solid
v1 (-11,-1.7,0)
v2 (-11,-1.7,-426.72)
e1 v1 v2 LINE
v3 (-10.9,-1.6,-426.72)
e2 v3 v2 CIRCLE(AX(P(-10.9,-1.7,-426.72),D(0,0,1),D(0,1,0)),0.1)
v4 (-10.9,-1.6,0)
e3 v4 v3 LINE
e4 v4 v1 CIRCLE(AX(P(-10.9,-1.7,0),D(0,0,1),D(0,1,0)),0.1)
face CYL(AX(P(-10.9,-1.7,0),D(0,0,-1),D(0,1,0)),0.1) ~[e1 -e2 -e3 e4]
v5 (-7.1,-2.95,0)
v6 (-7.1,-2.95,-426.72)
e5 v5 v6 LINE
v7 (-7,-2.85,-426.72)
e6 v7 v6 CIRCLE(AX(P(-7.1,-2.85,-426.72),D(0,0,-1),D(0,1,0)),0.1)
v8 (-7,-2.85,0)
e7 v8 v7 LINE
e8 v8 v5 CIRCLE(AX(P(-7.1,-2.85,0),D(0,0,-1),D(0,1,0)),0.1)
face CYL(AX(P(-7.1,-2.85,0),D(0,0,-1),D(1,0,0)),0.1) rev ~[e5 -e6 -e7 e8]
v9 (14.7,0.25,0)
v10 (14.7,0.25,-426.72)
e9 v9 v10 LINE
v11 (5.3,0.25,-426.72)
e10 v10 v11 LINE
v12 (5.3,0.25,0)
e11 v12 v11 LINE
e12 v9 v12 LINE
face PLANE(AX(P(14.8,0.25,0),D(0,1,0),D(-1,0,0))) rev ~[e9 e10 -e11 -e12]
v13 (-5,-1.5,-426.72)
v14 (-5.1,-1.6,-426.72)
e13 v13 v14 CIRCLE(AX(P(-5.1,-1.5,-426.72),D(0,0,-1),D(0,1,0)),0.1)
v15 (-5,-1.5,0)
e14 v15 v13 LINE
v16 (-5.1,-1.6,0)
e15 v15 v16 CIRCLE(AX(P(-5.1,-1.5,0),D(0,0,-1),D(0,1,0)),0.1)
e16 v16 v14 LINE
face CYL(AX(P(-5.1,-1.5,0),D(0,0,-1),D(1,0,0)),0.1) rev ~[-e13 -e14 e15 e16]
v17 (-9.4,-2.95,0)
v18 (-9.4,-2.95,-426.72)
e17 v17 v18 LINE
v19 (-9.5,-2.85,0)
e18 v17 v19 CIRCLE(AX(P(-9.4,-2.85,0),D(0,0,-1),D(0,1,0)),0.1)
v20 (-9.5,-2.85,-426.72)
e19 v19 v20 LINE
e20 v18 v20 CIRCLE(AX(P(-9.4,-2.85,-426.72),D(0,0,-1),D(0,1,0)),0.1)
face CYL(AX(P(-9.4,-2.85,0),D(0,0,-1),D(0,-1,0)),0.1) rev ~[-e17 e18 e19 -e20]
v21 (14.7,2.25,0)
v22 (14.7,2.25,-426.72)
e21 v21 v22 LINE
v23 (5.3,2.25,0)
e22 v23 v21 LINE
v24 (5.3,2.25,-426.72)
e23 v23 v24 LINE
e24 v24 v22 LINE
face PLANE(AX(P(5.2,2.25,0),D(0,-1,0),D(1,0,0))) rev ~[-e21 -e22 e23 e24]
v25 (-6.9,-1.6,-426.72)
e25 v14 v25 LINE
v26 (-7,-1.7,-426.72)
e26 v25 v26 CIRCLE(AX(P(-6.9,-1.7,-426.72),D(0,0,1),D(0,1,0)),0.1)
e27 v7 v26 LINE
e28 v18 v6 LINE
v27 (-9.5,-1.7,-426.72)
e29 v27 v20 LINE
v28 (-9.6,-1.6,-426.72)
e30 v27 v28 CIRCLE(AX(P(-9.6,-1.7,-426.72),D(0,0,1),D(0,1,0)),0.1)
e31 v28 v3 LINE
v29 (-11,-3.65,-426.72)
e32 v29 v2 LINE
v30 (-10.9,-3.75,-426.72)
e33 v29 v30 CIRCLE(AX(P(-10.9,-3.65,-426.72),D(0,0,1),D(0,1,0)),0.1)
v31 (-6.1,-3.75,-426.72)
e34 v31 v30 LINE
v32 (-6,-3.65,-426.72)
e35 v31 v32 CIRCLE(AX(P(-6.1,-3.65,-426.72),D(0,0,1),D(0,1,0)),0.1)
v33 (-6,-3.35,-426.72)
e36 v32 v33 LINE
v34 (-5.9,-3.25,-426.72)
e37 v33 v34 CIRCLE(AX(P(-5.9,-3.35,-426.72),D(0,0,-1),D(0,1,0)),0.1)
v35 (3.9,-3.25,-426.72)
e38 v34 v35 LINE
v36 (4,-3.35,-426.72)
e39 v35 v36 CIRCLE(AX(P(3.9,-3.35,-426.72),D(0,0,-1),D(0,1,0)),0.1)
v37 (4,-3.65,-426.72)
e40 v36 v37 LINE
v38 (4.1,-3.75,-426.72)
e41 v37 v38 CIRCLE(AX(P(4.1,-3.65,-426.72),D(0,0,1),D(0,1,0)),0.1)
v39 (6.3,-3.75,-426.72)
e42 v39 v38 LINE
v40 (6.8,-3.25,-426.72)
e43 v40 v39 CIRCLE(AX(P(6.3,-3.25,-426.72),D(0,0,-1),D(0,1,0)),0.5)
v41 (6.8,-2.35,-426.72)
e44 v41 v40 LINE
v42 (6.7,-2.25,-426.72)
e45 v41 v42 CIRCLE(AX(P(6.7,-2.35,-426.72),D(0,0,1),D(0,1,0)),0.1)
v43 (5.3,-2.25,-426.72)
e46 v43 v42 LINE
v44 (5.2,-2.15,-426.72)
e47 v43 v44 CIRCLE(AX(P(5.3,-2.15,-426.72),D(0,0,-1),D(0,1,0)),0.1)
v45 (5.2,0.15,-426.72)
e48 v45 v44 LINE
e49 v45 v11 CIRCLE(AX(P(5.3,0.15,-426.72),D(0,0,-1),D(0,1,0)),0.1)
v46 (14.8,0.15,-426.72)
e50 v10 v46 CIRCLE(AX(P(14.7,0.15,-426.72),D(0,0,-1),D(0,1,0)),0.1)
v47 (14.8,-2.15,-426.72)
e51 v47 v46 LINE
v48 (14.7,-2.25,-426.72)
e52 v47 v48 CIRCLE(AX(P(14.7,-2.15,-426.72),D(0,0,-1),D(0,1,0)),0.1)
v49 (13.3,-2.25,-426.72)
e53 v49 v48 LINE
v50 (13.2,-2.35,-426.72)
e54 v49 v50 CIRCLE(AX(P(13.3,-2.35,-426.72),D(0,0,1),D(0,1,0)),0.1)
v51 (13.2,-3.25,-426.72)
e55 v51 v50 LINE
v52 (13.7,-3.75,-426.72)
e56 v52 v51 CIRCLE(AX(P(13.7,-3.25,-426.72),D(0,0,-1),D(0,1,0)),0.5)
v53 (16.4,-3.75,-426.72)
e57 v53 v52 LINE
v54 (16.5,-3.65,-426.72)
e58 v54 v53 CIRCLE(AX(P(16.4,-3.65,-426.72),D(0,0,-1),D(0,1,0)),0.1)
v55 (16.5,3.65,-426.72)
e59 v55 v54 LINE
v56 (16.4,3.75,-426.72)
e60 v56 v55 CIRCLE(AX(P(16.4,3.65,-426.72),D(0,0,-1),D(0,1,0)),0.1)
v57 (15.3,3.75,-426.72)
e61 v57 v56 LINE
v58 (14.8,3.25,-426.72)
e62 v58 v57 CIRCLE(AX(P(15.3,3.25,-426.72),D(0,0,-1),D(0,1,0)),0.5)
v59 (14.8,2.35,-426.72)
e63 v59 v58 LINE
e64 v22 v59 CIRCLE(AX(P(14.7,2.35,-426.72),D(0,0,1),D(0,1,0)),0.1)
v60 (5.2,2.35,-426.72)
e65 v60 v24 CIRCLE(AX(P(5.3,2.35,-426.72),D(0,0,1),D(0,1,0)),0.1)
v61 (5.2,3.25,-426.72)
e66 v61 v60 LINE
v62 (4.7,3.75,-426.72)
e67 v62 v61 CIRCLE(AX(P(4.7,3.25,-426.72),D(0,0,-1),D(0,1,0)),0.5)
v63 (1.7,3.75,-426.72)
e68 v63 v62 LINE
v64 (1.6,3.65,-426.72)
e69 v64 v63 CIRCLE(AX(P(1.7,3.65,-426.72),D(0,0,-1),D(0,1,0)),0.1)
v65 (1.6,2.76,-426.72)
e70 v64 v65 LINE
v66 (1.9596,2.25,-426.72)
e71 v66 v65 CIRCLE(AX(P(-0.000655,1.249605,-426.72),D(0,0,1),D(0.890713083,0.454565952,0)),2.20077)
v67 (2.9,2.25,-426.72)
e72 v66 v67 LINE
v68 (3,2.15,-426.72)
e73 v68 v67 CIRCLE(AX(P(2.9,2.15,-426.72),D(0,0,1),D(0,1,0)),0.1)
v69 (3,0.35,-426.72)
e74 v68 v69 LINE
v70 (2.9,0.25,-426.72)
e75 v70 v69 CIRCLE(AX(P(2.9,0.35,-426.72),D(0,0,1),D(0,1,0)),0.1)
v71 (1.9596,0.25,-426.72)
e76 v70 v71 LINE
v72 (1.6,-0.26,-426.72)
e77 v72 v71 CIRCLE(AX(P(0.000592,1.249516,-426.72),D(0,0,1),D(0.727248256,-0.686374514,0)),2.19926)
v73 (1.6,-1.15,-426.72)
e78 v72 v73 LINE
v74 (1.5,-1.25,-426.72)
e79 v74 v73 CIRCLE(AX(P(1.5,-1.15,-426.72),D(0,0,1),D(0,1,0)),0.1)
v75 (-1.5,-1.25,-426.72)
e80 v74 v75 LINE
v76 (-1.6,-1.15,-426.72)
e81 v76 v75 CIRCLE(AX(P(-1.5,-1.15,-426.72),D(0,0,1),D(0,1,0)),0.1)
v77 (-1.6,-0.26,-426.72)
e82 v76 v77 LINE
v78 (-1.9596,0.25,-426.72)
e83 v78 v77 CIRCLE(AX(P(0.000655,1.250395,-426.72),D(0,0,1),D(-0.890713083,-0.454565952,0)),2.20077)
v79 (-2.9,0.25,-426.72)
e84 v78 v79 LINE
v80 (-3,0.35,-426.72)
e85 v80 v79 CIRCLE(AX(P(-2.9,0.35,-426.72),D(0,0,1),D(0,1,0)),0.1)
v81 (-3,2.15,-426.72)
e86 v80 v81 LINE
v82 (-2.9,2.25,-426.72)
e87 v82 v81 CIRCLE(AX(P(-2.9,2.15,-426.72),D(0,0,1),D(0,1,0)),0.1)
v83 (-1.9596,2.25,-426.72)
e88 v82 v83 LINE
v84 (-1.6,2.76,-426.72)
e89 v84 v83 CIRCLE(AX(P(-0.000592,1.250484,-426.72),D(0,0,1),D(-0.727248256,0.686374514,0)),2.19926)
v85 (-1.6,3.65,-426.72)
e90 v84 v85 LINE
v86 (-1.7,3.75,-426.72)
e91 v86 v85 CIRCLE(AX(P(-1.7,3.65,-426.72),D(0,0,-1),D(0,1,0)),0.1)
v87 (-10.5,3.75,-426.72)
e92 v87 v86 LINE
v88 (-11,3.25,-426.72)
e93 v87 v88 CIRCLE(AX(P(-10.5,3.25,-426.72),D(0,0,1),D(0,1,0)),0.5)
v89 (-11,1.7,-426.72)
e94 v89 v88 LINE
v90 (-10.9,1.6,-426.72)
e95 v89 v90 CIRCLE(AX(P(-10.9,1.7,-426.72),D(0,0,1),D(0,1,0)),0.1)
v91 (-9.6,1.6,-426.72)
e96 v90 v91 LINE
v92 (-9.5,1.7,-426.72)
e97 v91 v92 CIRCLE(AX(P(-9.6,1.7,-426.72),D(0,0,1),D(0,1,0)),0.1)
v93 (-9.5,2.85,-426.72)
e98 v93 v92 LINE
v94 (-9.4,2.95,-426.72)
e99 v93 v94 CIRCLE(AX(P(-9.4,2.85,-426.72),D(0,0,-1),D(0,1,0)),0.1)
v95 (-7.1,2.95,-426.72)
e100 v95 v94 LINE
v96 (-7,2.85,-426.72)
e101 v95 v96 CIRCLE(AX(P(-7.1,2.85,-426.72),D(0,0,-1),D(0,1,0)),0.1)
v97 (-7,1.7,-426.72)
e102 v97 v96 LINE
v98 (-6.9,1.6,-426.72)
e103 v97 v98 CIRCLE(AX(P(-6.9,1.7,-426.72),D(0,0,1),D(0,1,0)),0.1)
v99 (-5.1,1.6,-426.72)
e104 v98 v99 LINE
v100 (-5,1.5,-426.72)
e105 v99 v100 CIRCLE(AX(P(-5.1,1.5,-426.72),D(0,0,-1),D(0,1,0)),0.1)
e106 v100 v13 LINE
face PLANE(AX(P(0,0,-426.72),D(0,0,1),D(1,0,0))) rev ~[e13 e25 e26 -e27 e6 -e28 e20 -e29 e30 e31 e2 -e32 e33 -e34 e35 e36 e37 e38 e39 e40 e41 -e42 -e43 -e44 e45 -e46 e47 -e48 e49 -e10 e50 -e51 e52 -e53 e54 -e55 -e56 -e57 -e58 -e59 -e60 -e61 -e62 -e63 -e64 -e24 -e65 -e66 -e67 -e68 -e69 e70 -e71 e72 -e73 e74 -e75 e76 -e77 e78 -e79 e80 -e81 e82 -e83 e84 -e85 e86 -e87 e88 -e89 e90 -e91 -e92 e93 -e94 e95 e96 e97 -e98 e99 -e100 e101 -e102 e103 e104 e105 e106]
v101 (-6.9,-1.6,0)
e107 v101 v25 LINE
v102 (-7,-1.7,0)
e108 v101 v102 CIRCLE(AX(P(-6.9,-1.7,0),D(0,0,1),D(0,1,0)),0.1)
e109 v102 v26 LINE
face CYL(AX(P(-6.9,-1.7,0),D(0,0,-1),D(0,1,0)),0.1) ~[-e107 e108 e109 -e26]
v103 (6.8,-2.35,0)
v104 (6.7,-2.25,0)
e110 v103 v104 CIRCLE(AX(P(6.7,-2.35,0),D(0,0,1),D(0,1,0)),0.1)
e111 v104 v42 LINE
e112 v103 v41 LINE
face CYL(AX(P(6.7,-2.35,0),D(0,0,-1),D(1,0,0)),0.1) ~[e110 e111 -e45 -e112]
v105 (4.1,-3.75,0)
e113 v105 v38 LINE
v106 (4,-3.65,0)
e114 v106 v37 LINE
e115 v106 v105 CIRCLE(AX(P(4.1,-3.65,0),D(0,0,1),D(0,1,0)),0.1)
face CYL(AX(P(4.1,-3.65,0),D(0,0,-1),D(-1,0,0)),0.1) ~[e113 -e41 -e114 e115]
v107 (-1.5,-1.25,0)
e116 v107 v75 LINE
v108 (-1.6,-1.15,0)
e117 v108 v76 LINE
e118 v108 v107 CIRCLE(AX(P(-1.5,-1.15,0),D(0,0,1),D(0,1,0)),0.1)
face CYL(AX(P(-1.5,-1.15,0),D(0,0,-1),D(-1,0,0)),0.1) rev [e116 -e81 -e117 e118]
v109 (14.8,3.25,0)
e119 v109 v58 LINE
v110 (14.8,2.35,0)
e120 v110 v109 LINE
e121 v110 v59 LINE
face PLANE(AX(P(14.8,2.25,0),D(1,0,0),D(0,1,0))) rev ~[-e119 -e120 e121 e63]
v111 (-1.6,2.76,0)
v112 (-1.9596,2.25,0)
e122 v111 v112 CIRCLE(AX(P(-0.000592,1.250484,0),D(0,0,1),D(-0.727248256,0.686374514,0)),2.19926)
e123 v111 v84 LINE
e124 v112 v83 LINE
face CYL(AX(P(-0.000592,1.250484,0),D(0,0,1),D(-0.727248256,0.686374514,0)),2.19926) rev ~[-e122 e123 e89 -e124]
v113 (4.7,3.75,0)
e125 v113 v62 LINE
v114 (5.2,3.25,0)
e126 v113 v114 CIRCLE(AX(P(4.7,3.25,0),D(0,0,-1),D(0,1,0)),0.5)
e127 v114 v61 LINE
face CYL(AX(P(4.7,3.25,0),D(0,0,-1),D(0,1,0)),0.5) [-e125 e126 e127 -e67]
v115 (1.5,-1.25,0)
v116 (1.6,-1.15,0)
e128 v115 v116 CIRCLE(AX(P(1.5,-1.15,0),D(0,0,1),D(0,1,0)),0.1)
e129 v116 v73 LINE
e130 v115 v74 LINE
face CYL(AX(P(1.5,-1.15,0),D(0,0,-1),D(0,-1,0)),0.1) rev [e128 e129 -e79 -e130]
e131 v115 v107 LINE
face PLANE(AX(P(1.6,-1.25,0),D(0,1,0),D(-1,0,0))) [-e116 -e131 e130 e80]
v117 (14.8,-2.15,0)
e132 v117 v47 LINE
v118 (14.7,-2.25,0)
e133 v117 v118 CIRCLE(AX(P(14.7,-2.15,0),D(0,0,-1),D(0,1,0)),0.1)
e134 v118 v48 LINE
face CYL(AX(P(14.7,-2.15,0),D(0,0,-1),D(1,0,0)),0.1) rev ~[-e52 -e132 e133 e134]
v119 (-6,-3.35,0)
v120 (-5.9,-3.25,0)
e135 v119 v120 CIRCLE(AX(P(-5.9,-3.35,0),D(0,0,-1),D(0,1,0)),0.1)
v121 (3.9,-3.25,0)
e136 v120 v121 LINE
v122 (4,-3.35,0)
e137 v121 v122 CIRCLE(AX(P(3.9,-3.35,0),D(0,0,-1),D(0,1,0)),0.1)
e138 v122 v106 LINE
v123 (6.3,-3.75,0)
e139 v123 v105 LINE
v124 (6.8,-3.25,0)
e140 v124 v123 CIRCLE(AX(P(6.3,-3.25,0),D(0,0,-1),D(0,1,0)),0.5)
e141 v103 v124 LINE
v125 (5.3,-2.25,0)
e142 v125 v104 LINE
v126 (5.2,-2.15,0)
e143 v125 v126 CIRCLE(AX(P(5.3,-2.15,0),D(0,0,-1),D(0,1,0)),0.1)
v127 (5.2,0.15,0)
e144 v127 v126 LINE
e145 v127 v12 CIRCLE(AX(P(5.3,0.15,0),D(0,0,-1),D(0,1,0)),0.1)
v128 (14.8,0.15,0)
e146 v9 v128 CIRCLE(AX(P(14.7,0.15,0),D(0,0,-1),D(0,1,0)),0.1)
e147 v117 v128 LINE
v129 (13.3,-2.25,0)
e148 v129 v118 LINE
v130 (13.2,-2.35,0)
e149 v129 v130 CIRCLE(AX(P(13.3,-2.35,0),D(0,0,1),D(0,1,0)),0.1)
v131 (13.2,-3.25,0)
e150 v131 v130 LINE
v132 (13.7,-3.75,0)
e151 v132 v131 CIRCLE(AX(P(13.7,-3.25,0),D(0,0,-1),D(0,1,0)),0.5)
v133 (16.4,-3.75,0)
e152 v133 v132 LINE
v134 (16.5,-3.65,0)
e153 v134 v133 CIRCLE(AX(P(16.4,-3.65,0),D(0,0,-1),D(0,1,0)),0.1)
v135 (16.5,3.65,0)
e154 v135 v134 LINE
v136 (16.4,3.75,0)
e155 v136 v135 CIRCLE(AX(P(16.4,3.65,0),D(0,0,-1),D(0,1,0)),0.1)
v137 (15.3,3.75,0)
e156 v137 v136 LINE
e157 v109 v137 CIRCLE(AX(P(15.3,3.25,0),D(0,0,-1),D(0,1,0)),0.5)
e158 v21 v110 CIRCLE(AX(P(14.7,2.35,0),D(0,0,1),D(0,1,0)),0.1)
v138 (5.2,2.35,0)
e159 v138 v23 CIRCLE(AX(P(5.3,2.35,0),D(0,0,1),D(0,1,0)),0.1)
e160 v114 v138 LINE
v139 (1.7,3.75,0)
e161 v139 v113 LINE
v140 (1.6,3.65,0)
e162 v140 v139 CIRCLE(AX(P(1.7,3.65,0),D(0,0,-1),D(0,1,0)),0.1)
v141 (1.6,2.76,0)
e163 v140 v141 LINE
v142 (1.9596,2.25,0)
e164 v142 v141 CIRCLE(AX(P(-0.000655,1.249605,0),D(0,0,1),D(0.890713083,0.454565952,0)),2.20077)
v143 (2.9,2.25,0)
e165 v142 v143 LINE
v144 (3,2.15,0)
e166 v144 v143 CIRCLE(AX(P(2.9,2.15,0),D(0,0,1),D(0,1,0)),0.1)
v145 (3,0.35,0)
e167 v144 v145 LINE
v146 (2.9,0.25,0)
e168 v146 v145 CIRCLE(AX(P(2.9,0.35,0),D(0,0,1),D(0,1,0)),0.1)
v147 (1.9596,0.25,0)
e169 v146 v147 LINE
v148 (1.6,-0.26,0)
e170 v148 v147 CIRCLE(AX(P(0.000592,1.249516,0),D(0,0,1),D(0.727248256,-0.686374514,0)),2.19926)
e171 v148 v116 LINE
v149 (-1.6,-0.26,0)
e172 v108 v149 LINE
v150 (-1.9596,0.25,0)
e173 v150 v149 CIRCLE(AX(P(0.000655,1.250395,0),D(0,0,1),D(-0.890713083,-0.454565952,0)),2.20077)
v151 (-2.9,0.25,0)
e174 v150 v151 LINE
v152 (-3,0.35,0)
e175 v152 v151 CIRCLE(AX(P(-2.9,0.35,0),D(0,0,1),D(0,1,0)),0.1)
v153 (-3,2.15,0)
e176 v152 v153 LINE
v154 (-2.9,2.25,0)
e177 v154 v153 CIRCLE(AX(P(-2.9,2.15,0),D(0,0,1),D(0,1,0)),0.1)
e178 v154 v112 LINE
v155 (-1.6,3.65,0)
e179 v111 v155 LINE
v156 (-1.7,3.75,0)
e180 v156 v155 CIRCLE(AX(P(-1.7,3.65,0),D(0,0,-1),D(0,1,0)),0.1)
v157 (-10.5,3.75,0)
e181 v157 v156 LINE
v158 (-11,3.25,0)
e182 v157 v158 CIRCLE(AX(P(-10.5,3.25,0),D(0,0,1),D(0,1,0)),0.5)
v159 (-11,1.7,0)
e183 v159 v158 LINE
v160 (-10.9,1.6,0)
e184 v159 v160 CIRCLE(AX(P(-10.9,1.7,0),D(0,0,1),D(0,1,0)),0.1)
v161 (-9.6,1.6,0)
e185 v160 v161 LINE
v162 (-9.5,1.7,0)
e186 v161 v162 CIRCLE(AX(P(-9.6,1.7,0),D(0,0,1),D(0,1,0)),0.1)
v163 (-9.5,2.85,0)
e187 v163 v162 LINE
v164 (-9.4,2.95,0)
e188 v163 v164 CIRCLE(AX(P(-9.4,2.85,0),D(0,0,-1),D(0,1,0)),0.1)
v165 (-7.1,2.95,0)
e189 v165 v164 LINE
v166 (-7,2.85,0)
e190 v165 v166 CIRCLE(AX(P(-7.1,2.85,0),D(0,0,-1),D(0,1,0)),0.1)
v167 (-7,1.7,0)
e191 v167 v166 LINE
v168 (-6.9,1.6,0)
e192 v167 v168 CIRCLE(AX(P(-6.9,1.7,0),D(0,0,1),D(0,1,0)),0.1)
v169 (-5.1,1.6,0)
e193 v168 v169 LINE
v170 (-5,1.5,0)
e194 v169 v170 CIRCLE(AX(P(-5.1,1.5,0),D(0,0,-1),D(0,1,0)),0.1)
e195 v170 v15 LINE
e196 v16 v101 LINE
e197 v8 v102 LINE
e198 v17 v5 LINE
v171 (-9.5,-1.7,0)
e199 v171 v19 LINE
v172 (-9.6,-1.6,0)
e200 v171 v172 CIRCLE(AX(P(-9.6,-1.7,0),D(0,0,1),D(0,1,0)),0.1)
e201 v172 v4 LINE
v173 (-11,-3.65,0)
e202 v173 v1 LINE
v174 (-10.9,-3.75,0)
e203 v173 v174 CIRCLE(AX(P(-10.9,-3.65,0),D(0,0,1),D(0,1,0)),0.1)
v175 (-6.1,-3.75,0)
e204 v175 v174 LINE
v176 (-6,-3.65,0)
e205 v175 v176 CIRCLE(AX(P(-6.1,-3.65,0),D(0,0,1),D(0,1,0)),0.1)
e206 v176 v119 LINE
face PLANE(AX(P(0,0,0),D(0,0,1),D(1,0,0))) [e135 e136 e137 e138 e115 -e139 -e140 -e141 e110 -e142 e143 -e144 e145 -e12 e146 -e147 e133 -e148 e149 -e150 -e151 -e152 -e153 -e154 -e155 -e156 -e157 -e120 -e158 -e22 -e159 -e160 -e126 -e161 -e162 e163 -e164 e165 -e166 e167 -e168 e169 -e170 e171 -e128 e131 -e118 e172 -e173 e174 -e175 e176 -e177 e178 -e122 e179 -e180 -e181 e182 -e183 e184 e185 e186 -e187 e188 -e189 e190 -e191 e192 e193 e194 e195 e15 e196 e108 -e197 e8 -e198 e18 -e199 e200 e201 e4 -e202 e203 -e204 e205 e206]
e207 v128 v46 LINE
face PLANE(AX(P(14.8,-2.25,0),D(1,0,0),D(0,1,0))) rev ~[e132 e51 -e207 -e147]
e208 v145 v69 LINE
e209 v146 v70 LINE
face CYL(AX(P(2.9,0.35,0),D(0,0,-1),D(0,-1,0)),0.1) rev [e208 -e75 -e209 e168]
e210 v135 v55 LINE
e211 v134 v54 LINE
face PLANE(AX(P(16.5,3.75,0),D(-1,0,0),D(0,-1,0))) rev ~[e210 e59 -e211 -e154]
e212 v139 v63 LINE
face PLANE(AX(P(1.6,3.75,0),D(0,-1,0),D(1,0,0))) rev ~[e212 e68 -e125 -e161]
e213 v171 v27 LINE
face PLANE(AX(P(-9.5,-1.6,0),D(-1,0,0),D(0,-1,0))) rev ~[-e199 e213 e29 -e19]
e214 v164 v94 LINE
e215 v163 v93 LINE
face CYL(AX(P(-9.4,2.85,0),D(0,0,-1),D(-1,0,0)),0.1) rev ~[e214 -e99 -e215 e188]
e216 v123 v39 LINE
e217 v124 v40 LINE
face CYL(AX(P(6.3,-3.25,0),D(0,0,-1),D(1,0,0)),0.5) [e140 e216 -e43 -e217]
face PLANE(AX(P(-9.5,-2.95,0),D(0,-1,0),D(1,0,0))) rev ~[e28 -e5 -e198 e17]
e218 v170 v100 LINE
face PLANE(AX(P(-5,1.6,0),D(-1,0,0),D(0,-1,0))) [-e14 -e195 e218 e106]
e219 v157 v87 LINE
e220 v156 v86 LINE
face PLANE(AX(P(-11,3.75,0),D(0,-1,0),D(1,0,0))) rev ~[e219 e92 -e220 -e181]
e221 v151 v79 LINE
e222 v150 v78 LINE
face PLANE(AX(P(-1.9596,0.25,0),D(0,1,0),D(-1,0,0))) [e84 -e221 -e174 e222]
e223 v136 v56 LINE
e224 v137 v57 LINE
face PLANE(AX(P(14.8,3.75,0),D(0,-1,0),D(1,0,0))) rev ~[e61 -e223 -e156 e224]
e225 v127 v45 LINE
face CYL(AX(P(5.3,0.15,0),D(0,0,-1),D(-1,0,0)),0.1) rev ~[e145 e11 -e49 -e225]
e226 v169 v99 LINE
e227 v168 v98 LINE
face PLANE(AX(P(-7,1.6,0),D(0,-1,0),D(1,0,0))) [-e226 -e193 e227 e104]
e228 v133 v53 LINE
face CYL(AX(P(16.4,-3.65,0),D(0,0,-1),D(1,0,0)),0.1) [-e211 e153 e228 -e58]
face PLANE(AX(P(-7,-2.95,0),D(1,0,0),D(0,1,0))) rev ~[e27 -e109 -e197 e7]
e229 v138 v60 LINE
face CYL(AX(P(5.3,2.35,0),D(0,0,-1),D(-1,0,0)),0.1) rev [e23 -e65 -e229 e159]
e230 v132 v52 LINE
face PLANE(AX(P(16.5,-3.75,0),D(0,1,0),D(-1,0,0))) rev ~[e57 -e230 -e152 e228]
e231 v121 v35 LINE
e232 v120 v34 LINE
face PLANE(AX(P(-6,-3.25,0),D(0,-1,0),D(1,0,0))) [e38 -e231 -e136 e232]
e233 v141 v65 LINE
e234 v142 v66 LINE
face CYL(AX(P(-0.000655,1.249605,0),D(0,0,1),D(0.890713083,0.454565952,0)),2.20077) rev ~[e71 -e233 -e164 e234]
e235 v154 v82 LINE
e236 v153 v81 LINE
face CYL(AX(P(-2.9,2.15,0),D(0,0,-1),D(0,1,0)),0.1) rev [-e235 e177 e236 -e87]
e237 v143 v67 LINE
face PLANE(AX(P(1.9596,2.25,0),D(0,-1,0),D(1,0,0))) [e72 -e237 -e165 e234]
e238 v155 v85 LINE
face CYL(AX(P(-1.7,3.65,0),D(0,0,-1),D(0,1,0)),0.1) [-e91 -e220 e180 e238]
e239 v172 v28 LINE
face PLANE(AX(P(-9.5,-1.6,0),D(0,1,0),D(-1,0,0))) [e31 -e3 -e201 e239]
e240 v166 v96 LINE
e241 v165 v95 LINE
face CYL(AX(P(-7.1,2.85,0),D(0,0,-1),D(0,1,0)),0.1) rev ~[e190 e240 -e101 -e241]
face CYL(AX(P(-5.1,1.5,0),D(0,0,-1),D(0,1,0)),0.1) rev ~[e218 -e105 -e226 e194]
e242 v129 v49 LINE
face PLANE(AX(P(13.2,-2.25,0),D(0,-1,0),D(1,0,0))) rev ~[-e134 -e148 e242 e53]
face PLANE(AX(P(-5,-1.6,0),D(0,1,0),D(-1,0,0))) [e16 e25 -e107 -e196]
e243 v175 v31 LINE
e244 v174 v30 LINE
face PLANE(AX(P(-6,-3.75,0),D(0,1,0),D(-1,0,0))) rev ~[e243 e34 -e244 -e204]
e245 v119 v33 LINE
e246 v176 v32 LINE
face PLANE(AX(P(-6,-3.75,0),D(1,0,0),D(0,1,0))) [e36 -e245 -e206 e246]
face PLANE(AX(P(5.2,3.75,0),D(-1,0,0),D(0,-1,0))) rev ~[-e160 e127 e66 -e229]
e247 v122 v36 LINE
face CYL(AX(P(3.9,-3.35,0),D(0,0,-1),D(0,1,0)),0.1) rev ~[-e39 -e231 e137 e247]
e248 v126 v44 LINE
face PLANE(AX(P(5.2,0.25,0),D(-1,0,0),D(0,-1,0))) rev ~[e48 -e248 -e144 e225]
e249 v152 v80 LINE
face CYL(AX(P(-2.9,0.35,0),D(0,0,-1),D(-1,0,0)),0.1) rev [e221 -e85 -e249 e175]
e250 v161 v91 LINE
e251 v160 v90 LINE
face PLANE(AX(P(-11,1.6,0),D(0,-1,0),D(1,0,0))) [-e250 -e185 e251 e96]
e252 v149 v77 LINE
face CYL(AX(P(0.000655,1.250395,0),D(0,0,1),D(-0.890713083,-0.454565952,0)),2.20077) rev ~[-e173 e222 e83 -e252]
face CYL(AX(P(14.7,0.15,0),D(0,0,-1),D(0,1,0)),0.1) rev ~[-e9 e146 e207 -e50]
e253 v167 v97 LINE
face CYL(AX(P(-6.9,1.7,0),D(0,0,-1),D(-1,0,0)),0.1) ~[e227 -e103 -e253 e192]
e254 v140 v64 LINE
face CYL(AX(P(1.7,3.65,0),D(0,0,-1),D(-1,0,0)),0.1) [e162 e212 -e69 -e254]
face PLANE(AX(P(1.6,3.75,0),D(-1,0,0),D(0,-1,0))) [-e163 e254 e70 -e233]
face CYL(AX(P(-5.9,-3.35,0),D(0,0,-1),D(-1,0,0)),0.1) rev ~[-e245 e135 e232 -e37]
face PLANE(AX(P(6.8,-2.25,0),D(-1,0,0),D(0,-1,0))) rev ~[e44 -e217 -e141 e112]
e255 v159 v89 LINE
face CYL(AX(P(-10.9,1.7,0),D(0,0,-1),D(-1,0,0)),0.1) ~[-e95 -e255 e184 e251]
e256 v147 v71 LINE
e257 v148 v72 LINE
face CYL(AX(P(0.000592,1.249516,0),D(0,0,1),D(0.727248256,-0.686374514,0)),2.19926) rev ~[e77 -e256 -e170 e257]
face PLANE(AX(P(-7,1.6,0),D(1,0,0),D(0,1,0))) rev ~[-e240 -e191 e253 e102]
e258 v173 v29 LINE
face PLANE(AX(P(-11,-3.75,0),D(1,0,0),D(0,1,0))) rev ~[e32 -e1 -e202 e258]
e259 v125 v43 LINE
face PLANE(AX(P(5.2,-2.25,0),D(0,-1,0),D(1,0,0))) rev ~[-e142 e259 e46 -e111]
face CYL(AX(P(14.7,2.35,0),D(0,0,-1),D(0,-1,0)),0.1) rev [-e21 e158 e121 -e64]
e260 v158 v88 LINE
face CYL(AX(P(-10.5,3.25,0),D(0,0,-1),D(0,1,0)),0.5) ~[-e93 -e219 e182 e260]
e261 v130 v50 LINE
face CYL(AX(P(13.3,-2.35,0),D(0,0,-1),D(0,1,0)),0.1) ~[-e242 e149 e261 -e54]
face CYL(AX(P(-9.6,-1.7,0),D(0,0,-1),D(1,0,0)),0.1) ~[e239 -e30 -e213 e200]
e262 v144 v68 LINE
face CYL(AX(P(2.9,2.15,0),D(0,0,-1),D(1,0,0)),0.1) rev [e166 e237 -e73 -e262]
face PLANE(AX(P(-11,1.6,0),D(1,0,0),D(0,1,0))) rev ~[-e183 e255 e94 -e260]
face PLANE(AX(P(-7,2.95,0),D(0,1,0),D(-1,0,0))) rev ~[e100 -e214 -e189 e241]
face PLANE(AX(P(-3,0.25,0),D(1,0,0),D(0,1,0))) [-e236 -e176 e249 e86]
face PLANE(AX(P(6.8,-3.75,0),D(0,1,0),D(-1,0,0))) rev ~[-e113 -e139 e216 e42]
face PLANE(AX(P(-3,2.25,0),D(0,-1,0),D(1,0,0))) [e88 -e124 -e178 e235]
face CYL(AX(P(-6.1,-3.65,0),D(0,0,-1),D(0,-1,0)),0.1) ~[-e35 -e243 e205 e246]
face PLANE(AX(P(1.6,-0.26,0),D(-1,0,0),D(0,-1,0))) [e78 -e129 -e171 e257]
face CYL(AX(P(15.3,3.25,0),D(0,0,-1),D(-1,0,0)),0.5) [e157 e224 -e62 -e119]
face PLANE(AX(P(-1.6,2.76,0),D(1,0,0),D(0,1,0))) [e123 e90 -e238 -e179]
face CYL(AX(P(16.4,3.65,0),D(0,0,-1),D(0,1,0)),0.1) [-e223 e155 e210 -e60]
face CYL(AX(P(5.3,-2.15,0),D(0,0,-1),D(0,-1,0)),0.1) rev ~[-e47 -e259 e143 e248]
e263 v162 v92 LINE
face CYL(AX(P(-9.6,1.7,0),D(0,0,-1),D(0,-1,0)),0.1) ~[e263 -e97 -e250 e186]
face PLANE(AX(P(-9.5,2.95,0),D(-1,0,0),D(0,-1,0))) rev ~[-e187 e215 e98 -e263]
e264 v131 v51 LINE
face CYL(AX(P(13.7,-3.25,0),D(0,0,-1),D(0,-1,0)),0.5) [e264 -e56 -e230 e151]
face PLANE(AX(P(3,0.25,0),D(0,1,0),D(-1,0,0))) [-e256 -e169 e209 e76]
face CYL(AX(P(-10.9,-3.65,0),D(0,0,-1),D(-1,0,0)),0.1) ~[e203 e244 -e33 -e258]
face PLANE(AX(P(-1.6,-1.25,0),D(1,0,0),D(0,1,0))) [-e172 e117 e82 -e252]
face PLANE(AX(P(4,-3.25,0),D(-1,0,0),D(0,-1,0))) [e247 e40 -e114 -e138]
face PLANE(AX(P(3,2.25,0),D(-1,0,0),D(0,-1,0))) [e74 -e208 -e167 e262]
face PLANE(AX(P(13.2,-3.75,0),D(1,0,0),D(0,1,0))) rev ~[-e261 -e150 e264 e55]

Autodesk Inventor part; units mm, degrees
ref_plane "YZ Plane" through (0, 0, 0) normal (1, 0, 0) x (0, 1, 0)
ref_plane "XZ Plane" through (0, 0, 0) normal (0, 1, 0) x (-1, 0, 0)
ref_plane "XY Plane" through (0, 0, 0) normal (0, 0, 1) x (1, 0, 0)
sketch "Rail_TypeB_Sketch" plane through (0, 0, 0) normal (0, 0, 1) x (1, 0, 0)
  line L0 (-11, 3.75) -> (-1.6, 3.75)
  line L1 (16.5, 3.75) -> (16.5, -3.75)
  line L2 (16.5, -3.75) -> (13.2, -3.75)
  line L3 (-11, -3.75) -> (-11, -1.6)
  arc A0 (-1.9596, 2.25) -> (-1.9596, 0.25) centre (0, 1.25) ccw construction
  line L4 (-11, 0) -> (16.5, 0) construction
  line L5 (0, 3.75) -> (0, -3.75) construction
  line L6 (-11, 1.6) -> (-9.5, 1.6)
  line L7 (-5, 1.6) -> (-5, -1.6)
  line L8 (-5, -1.6) -> (-7, -1.6)
  line L9 (-11, 1.6) -> (-11, 3.75)
  line L10 (-11, -1.6) -> (-11, 1.6) construction
  line L11 (-7, 2.95) -> (-9.5, 2.95)
  line L12 (-9.5, 2.95) -> (-9.5, 1.6)
  line L13 (-9.5, -2.95) -> (-7, -2.95)
  line L14 (-7, -2.95) -> (-7, -1.6)
  line L15 (-9.5, 1.6) -> (-7, 1.6) construction
  line L16 (-7, 1.6) -> (-5, 1.6)
  line L17 (-9.5, -1.6) -> (-11, -1.6)
  line L18 (-7, -1.6) -> (-9.5, -1.6) construction
  line L19 (-7, -1.6) -> (-7, 1.6) construction
  line L20 (-9.5, -1.6) -> (-9.5, -2.95)
  line L21 (-9.5, 1.6) -> (-9.5, -1.6) construction
  line L22 (-7, 1.6) -> (-7, 2.95)
  line L23 (-6, -3.75) -> (-6, -3.25)
  line L24 (-6, -3.25) -> (4, -3.25)
  line L25 (4, -3.25) -> (4, -3.75)
  line L26 (-6, -3.75) -> (-11, -3.75)
  line L27 (4, -3.75) -> (-6, -3.75) construction
  line L28 (1.6, -1.25) -> (-1.6, -1.25)
  line L29 (-1.6, -1.25) -> (-1.6, -0.26)
  line L30 (1.6, 3.75) -> (1.6, 2.76)
  line L31 (1.6, -1.25) -> (-1.6, 3.75) construction
  line L32 (-1.6, -1.25) -> (1.6, 3.75) construction
  line L33 (-3, 2.25) -> (-1.9596, 2.25)
  line L34 (3, 2.25) -> (3, 0.25)
  line L35 (3, 0.25) -> (1.9596, 0.25)
  line L36 (-3, 0.25) -> (-3, 2.25)
  line L37 (-3, 2.25) -> (3, 0.25) construction
  line L38 (3, 2.25) -> (-3, 0.25) construction
  arc A1 (-1.6, 2.76) -> (-1.9596, 2.25) centre (0, 1.25) ccw
  arc A2 (1.9596, 2.25) -> (1.6, 2.76) centre (0, 1.25) ccw
  arc A3 (1.6, 2.76) -> (-1.6, 2.76) centre (0, 1.25) ccw construction
  arc A4 (1.9596, 0.25) -> (1.9596, 2.25) centre (0, 1.25) ccw construction
  arc A5 (1.6, -0.26) -> (1.9596, 0.25) centre (0, 1.25) ccw
  arc A6 (-1.6, -0.26) -> (1.6, -0.26) centre (0, 1.25) ccw construction
  arc A7 (-1.9596, 0.25) -> (-1.6, -0.26) centre (0, 1.25) ccw
  line L39 (-1.9596, 2.25) -> (1.9596, 2.25) construction
  line L40 (-1.9596, 0.25) -> (-3, 0.25)
  line L41 (1.9596, 2.25) -> (3, 2.25)
  line L42 (1.9596, 0.25) -> (-1.9596, 0.25) construction
  line L43 (-1.6, 2.76) -> (-1.6, 3.75)
  line L44 (1.6, 2.76) -> (1.6, -0.26) construction
  line L45 (1.6, -0.26) -> (1.6, -1.25)
  line L46 (-1.6, -0.26) -> (-1.6, 2.76) construction
  line L47 (10, 3.75) -> (10, -3.75) construction
  line L48 (5.2, 3.75) -> (5.2, 2.25)
  line L49 (5.2, 2.25) -> (14.8, 2.25)
  line L50 (14.8, 2.25) -> (14.8, 3.75)
  line L51 (5.2, 3.75) -> (14.8, 3.75) construction
  line L52 (14.8, 3.75) -> (16.5, 3.75)
  line L53 (13.2, -3.75) -> (13.2, -2.25)
  line L54 (13.2, -2.25) -> (14.8, -2.25)
  line L55 (14.8, -2.25) -> (14.8, 0.25)
  line L56 (14.8, 0.25) -> (5.2, 0.25)
  line L57 (5.2, 0.25) -> (5.2, -2.25)
  line L58 (5.2, -2.25) -> (6.8, -2.25)
  line L59 (6.8, -2.25) -> (6.8, -3.75)
  line L60 (6.8, -3.75) -> (4, -3.75)
  line L61 (13.2, -3.75) -> (6.8, -3.75) construction
  line L62 (-1.6, 3.75) -> (0, 3.75) construction
  line L63 (0, 3.75) -> (1.6, 3.75) construction
  line L64 (1.6, 3.75) -> (5.2, 3.75)
  point P0 (0, 0)
  dimension "d0" = 27.5
  dimension "d1" = 7.5
  dimension "d3" = 3.75
  dimension "d5" = 4.4
  dimension "d6" = 2.5
  dimension "d8" = 16.5
  dimension "d9" = 6
  dimension "d10" = 3.2
  dimension "d11" = 1.6
  dimension "d12" = 11
  dimension "d13" = 1.5
  dimension "d14" = 4
  dimension "d15" = 5.9
  dimension "d16" = 2.95
  dimension "d17" = 0.5
  dimension "d18" = 10
  dimension "d19" = 5
  dimension "d20" = 3.2
  dimension "d21" = 5
  dimension "d22" = 6
  dimension "d23" = 2
  dimension "d24" = 10
  dimension "d25" = 9.6
  dimension "d26" = 4.8
  dimension "d27" = 6
  dimension "d28" = 1.5
  dimension "d29" = 4
  dimension "d30" = 6.4
  dimension "d31" = 3.2
  dimension "d32" = 9.6
  dimension "d33" = 4.8
extrude "Extrusion1" add sketch "Rail_TypeB_Sketch" against normal blind 426.72
fillet "Fillet1_0.5 mm" radius 0.5 5 edges at (-11, 3.75, -213.36) (5.2, 3.75, -213.36) (14.8, 3.75, -213.36) (6.8, -3.75, -213.36) (13.2, -3.75, -213.36)
fillet "Fillet2_0.1 mm" radius 0.1 35 edges at (-1.6, 3.75, -213.36) (1.6, 3.75, -213.36) (5.2, 2.25, -213.36) (14.8, 2.25, -213.36) (16.5, 3.75, -213.36) (16.5, -3.75, -213.36) (13.2, -2.25, -213.36) (14.8, -2.25, -213.36) (14.8, 0.25, -213.36) (5.2, 0.25, -213.36) (5.2, -2.25, -213.36) (6.8, -2.25, -213.36) (4, -3.75, -213.36) (4, -3.25, -213.36) (-6, -3.25, -213.36) (-6, -3.75, -213.36) (-11, -3.75, -213.36) (-11, -1.6, -213.36) (-9.5, -1.6, -213.36) (-9.5, -2.95, -213.36) (-7, -2.95, -213.36) (-7, -1.6, -213.36) (-5, -1.6, -213.36) (-5, 1.6, -213.36) (-7, 1.6, -213.36) (-7, 2.95, -213.36) (-9.5, 2.95, -213.36) (-9.5, 1.6, -213.36) (-11, 1.6, -213.36) (-3, 2.25, -213.36) (-3, 0.25, -213.36) (-1.6, -1.25, -213.36) (1.6, -1.25, -213.36) (3, 0.25, -213.36) (3, 2.25, -213.36)
equation "\"d3\" = 0.5 * d1"
equation "\"d11\" = 0.5 * d10"
equation "\"d16\" = 0.5 * d15"
equation "\"d26\" = 0.5 * d25"
equation "\"d31\" = 0.5 * d30"
equation "\"d32\" = d25"
equation "\"d33\" = 0.5 * d32"
properties part number "Rail_TypeB" material "Aluminum"
